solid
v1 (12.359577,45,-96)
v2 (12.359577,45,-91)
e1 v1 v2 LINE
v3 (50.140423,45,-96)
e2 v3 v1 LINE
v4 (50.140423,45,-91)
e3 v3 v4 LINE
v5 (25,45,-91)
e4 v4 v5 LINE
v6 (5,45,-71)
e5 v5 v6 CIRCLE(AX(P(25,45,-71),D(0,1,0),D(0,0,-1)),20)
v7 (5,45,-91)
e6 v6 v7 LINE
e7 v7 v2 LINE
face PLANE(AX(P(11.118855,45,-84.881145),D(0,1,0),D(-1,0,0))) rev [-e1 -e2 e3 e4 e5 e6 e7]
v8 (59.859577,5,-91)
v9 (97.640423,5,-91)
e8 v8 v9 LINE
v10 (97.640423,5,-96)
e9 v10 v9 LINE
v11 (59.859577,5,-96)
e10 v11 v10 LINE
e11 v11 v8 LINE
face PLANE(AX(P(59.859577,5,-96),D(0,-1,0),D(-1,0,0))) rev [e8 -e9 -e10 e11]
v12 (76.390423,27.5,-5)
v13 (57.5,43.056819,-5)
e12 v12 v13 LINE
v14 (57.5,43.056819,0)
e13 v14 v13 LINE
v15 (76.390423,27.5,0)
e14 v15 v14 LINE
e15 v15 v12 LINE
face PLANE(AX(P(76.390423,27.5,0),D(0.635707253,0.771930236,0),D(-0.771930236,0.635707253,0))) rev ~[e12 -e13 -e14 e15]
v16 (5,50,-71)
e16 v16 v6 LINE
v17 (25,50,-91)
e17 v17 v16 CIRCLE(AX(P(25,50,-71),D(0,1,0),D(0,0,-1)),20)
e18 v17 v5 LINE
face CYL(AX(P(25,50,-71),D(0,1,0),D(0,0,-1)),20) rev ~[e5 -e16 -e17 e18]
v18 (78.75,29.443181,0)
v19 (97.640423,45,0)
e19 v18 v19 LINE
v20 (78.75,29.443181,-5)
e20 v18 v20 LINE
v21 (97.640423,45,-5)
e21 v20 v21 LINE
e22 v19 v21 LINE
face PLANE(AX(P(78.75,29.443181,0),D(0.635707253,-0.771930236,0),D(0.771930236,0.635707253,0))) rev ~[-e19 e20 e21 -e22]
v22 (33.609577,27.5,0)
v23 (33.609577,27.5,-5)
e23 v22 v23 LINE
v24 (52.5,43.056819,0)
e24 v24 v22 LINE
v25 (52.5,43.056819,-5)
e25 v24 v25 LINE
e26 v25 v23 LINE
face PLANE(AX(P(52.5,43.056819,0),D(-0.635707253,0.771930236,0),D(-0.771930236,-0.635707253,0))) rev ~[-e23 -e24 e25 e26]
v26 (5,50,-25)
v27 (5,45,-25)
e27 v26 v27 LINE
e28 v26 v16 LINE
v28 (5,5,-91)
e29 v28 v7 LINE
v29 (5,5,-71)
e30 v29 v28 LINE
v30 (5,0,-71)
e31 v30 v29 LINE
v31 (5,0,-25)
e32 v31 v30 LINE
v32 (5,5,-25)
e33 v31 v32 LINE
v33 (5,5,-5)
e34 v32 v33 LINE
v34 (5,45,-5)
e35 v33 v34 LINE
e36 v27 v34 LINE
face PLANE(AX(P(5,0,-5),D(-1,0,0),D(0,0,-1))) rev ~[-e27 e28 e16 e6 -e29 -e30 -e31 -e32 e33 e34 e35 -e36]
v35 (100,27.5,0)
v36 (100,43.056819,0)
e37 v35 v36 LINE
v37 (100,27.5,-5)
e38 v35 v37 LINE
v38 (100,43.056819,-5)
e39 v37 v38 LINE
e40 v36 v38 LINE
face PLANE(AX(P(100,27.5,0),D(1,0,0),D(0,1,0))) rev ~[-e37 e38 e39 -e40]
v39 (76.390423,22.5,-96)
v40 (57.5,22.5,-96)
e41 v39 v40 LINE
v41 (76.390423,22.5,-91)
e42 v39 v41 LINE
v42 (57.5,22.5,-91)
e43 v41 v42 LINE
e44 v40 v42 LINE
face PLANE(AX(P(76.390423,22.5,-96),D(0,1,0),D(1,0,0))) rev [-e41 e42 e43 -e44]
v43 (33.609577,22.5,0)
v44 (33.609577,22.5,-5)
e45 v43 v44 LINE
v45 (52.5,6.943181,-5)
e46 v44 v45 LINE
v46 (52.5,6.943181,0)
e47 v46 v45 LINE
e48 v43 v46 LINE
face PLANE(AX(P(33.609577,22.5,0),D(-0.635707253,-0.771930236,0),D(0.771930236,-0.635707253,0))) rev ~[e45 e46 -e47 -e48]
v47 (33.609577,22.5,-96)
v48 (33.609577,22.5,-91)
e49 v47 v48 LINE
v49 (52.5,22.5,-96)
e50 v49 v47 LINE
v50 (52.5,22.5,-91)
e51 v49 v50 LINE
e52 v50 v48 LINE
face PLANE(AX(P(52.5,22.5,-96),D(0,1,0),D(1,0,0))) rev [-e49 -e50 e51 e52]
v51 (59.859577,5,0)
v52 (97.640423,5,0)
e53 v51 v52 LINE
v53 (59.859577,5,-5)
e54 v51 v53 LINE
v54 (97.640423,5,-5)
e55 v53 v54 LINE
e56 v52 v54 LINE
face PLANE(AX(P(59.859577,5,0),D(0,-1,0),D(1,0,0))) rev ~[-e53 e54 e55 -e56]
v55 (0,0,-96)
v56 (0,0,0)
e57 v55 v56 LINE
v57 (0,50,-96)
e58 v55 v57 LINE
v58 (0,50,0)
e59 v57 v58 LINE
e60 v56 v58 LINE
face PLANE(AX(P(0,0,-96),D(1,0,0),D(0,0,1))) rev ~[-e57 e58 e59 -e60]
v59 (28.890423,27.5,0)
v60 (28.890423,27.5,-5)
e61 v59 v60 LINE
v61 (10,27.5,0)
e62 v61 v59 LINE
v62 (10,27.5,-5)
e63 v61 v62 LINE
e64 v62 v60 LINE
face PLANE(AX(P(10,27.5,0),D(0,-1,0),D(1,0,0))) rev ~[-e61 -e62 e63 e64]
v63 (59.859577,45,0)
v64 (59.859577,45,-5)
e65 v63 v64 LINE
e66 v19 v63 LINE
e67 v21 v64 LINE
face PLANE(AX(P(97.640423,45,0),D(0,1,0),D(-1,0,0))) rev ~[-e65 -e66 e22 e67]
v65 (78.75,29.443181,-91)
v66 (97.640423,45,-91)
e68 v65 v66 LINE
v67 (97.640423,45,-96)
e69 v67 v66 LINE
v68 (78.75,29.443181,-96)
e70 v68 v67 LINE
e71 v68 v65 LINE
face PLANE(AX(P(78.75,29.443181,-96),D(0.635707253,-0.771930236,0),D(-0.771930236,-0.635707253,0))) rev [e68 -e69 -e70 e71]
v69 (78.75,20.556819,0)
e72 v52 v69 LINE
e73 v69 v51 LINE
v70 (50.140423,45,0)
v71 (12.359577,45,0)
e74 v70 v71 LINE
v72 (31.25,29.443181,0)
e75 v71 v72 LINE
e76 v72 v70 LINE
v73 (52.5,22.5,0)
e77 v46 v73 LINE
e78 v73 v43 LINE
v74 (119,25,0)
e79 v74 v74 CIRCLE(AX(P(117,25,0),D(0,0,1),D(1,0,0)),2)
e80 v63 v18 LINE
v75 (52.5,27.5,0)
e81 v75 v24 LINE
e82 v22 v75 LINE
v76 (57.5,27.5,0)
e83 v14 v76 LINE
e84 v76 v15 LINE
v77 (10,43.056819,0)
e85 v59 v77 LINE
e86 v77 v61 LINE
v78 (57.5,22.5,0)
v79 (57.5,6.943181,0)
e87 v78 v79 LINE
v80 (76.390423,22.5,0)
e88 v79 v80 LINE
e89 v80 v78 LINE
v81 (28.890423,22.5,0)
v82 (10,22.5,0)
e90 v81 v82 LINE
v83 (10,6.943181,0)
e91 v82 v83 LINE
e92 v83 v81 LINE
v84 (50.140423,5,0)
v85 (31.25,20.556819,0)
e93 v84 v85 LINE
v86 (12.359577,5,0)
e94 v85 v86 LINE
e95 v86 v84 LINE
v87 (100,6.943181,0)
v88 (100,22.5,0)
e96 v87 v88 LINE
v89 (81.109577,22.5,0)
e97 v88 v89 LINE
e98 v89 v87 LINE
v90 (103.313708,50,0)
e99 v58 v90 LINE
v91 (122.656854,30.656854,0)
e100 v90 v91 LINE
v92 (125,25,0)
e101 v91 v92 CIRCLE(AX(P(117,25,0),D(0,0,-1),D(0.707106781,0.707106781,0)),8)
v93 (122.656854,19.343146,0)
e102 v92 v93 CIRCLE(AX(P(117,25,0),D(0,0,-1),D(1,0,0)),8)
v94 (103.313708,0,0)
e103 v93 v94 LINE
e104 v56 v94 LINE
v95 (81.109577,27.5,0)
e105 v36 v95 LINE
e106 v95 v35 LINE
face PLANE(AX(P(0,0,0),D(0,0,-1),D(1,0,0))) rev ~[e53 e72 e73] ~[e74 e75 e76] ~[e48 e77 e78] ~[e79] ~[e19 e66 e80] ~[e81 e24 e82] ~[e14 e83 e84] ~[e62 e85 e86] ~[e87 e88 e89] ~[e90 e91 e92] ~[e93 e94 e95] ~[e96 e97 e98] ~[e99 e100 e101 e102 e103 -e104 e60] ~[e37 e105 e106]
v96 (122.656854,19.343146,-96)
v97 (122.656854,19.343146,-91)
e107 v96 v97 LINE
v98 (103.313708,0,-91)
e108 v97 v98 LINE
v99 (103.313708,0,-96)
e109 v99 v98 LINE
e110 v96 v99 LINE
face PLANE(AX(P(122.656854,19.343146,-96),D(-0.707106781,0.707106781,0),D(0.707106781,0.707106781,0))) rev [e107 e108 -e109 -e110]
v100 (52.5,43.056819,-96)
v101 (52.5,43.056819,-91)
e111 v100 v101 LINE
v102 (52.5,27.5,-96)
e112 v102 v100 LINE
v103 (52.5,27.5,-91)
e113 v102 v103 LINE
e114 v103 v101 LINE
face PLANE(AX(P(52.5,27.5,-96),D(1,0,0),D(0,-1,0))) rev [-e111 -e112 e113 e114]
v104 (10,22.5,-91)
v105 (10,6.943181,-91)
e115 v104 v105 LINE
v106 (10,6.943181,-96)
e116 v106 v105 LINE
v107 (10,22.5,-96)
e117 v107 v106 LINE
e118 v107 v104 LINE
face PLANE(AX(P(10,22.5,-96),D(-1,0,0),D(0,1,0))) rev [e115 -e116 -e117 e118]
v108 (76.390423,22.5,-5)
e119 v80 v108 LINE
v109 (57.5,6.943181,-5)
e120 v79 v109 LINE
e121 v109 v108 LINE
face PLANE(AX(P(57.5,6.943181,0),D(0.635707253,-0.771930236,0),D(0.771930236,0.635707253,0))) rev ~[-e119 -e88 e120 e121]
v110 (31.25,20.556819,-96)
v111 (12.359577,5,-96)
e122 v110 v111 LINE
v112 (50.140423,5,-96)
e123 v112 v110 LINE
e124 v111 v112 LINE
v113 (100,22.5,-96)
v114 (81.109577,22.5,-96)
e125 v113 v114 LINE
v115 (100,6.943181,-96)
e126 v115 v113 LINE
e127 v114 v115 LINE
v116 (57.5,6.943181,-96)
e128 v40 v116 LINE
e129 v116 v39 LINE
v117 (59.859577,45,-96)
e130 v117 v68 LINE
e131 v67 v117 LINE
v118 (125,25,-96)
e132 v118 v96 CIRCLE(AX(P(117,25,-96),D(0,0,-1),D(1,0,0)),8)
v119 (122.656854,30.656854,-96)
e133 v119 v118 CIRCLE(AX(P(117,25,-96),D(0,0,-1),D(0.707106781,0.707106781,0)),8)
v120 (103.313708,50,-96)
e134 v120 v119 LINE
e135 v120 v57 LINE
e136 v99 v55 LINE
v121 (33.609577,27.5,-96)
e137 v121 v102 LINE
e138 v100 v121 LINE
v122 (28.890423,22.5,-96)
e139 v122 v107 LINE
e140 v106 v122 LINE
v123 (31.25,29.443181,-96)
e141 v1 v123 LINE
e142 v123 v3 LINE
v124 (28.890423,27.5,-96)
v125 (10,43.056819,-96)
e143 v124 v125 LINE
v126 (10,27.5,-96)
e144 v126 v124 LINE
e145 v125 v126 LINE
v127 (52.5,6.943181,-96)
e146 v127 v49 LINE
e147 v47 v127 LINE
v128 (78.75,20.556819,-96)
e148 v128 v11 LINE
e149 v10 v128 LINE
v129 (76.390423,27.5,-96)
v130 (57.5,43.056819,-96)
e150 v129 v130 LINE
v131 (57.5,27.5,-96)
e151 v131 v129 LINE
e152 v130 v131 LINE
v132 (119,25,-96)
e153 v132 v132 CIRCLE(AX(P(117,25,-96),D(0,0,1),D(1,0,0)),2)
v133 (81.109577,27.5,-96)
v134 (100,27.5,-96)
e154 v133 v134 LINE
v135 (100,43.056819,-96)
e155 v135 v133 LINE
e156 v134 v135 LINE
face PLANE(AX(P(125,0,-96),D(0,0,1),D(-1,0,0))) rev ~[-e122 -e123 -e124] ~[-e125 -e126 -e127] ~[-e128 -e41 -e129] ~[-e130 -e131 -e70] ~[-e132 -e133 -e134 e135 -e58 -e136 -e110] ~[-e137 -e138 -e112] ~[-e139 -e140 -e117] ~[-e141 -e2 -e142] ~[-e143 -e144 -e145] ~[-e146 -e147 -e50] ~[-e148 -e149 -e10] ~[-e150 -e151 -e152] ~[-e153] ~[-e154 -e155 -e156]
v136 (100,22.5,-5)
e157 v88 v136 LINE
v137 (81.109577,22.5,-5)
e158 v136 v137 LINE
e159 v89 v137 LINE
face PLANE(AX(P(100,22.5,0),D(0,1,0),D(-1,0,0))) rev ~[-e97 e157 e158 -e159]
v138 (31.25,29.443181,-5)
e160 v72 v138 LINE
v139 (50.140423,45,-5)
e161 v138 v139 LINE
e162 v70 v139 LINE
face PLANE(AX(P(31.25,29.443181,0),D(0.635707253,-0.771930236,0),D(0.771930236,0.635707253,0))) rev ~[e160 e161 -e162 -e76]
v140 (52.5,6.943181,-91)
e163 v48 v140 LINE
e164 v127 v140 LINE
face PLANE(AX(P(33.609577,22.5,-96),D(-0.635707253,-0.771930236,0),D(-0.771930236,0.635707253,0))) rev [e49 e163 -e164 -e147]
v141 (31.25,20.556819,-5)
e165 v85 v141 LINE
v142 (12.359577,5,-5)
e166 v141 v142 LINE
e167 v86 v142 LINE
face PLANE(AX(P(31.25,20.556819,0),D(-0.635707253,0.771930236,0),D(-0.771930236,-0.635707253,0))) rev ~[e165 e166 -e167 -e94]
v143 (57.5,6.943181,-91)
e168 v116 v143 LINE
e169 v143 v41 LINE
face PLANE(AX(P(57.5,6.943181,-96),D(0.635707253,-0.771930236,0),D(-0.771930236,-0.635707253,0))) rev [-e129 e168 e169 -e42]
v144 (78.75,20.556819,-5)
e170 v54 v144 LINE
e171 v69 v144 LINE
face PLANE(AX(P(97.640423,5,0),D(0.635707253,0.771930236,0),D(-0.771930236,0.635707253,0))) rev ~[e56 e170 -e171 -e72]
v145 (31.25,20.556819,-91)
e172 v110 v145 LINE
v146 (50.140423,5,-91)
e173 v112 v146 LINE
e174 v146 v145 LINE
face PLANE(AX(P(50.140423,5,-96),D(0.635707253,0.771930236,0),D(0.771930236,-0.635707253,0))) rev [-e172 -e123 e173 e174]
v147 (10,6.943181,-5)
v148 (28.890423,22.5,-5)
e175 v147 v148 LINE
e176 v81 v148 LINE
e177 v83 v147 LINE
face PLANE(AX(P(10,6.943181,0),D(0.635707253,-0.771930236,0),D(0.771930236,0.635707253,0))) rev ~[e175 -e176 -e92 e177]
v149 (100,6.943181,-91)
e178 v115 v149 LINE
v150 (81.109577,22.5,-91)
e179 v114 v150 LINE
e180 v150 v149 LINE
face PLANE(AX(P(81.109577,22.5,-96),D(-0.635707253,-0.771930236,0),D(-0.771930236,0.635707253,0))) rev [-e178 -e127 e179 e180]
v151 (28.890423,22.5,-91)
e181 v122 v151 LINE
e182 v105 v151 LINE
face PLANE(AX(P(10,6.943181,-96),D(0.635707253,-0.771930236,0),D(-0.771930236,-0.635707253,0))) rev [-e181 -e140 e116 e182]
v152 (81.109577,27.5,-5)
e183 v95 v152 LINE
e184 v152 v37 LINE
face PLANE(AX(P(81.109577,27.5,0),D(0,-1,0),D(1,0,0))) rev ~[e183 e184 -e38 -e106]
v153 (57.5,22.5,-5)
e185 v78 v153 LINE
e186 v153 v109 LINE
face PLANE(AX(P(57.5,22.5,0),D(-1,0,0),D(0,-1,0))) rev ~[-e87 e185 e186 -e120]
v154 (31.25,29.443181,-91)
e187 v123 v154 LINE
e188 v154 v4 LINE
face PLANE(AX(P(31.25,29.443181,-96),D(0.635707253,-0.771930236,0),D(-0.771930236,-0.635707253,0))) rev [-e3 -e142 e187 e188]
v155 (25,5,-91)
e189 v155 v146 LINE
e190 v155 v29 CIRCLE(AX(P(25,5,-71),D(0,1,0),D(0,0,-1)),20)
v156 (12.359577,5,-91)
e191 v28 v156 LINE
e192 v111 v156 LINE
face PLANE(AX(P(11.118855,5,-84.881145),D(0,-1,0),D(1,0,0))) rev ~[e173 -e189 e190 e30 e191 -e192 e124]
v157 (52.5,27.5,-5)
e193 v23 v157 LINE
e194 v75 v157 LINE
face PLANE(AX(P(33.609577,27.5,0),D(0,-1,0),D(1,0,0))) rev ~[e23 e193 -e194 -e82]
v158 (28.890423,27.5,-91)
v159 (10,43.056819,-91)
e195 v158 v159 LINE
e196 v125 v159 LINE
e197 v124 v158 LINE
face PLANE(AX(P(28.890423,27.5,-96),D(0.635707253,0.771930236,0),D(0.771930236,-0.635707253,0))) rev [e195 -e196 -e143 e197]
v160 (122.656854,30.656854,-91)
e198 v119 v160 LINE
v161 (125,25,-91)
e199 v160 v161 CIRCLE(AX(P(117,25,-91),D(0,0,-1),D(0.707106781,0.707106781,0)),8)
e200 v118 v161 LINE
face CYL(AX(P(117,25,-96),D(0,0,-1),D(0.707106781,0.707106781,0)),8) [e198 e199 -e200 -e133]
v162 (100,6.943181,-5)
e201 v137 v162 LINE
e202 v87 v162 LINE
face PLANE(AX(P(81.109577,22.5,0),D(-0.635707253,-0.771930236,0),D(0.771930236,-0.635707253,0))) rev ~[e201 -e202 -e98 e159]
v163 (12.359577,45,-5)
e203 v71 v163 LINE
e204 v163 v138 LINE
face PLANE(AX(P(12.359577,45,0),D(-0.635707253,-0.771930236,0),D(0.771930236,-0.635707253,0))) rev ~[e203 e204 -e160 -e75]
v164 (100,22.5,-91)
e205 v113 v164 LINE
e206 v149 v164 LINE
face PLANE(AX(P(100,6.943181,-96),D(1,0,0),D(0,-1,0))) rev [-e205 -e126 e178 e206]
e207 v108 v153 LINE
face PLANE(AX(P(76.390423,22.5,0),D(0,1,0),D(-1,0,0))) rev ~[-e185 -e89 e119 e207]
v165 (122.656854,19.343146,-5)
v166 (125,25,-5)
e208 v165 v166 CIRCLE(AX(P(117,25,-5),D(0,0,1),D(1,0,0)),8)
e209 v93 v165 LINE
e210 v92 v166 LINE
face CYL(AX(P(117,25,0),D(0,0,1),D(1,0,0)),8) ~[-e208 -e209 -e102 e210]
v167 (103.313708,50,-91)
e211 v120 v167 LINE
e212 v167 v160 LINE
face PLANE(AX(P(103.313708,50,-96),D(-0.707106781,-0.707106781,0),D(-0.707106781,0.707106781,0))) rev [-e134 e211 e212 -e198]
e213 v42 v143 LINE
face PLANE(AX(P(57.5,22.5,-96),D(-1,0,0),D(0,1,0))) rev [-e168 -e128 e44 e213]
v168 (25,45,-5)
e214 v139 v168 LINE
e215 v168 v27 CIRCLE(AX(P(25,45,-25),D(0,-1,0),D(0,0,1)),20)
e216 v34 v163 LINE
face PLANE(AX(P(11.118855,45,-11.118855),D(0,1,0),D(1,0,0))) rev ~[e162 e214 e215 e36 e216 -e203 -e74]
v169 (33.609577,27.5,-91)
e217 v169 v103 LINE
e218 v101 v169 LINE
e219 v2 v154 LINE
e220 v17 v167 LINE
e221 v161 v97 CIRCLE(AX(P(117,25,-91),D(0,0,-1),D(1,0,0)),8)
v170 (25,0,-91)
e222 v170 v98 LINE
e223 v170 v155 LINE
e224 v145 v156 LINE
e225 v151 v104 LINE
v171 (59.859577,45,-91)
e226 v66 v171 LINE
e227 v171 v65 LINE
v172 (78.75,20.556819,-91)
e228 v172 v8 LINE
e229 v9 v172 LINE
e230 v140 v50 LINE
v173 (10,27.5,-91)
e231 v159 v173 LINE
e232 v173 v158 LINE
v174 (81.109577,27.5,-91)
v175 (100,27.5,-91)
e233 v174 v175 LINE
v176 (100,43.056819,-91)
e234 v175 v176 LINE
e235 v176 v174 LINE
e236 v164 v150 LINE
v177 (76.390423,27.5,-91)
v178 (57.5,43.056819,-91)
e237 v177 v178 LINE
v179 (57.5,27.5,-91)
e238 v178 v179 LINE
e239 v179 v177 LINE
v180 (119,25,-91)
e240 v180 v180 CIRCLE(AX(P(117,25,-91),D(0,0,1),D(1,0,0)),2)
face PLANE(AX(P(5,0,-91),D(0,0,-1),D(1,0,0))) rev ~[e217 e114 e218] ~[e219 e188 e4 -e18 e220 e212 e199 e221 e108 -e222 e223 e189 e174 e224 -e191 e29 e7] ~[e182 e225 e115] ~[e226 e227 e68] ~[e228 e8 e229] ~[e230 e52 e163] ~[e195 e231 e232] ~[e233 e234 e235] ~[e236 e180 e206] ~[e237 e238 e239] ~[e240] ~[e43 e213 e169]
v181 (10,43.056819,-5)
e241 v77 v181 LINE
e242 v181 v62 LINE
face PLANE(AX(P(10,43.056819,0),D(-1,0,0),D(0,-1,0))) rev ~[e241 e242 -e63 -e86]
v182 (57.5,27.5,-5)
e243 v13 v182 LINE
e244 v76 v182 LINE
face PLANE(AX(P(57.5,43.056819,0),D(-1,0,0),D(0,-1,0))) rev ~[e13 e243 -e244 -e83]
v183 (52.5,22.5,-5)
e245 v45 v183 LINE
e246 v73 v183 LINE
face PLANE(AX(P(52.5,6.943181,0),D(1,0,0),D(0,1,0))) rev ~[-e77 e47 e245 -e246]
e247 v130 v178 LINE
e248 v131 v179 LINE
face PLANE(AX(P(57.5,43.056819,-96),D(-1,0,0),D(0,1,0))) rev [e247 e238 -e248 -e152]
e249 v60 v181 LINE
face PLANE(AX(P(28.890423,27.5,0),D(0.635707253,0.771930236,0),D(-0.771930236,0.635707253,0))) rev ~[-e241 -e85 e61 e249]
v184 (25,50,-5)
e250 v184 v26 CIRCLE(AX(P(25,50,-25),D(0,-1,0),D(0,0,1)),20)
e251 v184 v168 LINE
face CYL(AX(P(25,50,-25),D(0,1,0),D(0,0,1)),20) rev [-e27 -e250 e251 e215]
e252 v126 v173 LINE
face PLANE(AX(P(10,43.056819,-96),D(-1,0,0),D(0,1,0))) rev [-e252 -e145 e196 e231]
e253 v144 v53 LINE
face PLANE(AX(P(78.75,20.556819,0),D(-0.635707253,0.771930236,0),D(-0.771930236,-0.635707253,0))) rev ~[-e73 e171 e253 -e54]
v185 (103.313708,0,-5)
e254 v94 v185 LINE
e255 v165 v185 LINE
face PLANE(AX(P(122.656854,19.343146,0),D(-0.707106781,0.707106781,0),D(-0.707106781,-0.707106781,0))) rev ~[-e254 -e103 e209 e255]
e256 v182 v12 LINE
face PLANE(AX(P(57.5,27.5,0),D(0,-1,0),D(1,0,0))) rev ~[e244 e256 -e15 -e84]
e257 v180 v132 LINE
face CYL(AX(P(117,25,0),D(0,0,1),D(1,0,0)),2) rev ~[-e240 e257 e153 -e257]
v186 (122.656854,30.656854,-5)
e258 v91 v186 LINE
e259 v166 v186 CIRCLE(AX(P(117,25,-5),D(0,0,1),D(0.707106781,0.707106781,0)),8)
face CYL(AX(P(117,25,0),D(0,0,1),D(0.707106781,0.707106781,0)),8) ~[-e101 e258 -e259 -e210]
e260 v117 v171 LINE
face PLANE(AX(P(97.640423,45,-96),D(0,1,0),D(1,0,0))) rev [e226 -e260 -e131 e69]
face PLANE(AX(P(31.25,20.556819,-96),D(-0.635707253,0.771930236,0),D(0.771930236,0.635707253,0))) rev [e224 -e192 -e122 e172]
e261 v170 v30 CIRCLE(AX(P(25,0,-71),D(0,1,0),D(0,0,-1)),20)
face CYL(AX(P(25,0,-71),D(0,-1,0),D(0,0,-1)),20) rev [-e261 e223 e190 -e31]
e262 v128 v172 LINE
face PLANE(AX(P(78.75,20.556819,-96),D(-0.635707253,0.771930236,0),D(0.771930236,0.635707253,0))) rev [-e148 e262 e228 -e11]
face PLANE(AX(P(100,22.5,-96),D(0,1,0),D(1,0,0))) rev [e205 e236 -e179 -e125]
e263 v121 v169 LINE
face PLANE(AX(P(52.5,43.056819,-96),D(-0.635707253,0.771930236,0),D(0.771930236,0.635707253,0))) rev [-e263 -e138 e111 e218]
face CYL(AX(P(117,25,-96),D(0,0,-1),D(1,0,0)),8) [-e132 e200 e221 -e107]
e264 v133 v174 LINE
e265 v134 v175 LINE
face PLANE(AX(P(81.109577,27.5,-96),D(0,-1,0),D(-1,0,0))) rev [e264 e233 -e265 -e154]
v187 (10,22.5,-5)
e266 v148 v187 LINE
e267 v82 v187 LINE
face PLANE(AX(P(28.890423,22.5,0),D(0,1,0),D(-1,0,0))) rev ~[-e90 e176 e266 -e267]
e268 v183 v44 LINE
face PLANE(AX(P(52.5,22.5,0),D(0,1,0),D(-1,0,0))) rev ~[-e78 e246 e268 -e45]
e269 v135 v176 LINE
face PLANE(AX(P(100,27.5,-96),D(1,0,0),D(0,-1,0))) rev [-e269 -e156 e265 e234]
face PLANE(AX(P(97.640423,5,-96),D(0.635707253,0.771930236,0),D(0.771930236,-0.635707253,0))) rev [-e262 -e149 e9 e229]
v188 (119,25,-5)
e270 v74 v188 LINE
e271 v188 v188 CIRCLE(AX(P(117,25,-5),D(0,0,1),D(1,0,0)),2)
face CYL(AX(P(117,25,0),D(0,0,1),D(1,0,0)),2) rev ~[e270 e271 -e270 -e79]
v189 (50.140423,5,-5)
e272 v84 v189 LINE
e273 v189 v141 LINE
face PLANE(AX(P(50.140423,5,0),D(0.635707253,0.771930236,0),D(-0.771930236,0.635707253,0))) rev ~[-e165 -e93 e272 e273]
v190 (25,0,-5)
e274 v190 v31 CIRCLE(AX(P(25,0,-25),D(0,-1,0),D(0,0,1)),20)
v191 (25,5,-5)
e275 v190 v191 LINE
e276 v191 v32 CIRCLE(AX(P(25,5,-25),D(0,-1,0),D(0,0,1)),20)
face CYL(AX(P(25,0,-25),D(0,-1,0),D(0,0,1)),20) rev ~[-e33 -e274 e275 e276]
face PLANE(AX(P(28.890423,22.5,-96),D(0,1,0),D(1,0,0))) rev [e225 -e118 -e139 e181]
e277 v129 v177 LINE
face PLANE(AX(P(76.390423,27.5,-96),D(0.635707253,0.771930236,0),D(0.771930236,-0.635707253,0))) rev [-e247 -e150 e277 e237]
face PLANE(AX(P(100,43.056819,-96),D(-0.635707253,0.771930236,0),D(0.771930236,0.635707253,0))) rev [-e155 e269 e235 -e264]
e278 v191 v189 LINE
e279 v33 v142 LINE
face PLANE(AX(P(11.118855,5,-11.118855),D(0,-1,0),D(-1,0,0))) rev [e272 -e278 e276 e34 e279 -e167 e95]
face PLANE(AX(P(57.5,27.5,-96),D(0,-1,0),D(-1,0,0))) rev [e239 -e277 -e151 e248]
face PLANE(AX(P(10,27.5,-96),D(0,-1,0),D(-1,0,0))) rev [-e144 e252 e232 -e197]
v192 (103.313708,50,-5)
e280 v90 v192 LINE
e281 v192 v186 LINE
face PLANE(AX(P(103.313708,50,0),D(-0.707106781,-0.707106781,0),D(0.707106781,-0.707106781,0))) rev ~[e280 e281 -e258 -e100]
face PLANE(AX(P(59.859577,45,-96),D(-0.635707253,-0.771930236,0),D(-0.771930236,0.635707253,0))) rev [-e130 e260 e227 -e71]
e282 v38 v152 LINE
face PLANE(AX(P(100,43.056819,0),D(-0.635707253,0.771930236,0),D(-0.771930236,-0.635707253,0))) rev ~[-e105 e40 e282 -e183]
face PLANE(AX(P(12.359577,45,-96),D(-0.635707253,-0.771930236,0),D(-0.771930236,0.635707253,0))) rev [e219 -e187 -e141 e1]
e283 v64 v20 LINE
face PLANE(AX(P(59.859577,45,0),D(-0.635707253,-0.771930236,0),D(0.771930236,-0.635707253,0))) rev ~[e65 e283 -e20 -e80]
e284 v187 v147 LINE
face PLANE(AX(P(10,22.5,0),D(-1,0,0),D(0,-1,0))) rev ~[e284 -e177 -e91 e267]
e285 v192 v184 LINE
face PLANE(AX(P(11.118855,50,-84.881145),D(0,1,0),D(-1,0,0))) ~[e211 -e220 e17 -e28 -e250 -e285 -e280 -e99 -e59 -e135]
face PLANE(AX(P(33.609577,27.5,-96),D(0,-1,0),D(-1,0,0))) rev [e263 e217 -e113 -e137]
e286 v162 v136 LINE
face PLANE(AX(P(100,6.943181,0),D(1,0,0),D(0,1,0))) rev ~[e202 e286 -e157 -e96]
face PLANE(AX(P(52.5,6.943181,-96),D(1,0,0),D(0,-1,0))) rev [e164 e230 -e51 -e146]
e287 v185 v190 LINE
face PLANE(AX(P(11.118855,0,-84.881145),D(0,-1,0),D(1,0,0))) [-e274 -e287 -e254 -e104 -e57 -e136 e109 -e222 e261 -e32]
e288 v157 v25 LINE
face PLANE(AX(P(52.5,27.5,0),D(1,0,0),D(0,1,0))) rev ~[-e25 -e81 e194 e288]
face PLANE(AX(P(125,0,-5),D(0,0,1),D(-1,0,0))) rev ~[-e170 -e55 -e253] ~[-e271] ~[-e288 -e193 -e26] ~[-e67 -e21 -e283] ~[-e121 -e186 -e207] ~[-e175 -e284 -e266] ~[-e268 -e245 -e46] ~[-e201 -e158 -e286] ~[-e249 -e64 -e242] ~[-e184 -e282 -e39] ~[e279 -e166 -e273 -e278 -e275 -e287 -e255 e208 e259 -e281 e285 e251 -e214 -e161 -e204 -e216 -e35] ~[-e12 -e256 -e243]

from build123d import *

# Parameters (mm, degrees)
BOSS_EXTRUDE1_DEPTH  = 50
SKETCH2_R            = 2
CUT_EXTRUDE1_DEPTH   = 166.351141514
CUT_EXTRUDE2_DEPTH   = 10
BOSS_EXTRUDE3_DEPTH  = 5
MIRROR5_COPY_1_DEPTH = 5


with BuildPart() as part:
    # Sketch1 → Boss-Extrude1 (new body)
    with BuildSketch(Plane(origin=(0, 0, 0), x_dir=(1, 0, 0), z_dir=(0, 1, 0))):
        Polygon((0, 0), (125, 0), (125, 5), (5, 5), (5, 91), (125, 91), (125, 96), (0, 96), align=None)
    extrude(amount=BOSS_EXTRUDE1_DEPTH)

    # Sketch2 → Cut-Extrude1 (cut, through all)
    with BuildSketch(Plane.XY):
        with Locations((117, 25)):
            Circle(SKETCH2_R)
    extrude(amount=-CUT_EXTRUDE1_DEPTH, mode=Mode.SUBTRACT)

    # Sketch3 → Cut-Extrude2 (cut)
    with BuildSketch(Plane.XY):
        Polygon((52.5, 43.056819217), (33.609576666, 27.5), (52.5, 27.5), align=None)
        Polygon((50.140423334, 45), (12.359576666, 45), (31.25, 29.443180783), align=None)
        Polygon((28.890423334, 27.5), (10, 43.056819217), (10, 27.5), align=None)
        Polygon((10, 6.943180783), (28.890423334, 22.5), (10, 22.5), align=None)
        Polygon((12.359576666, 5), (50.140423334, 5), (31.25, 20.556819217), align=None)
        Polygon((52.5, 6.943180783), (52.5, 22.5), (33.609576666, 22.5), align=None)
        Polygon((57.5, 6.943180783), (76.390423334, 22.5), (57.5, 22.5), align=None)
        Polygon((59.859576666, 5), (97.640423334, 5), (78.75, 20.556819217), align=None)
        Polygon((81.109576666, 22.5), (100, 6.943180783), (100, 22.5), align=None)
        Polygon((100, 43.056819217), (81.109576666, 27.5), (100, 27.5), align=None)
        Polygon((97.640423334, 45), (59.859576666, 45), (78.75, 29.443180783), align=None)
        Polygon((76.390423334, 27.5), (57.5, 43.056819217), (57.5, 27.5), align=None)
        with BuildLine():
            Line((103.313708499, 50), (122.656854249, 30.656854249))
            ThreePointArc((122.656854249, 30.656854249), (124.39103626, 28.061467459), (125, 25))
            Line((125, 25), (125, 50))
            Line((125, 50), (103.313708499, 50))
        make_face()
        with BuildLine():
            Line((125, 0), (125, 25))
            ThreePointArc((125, 25), (124.39103626, 21.938532541), (122.656854249, 19.343145751))
            Line((122.656854249, 19.343145751), (103.313708499, 0))
            Line((103.313708499, 0), (125, 0))
        make_face()
    cut_extrude2 = extrude(amount=-CUT_EXTRUDE2_DEPTH, mode=Mode.SUBTRACT)

    # Mirror3: Cut-Extrude2 across plane
    add(cut_extrude2.mirror(Plane.XY.offset(-48)), mode=Mode.SUBTRACT)

    # Sketch6 → Boss-Extrude3 (add)
    with BuildSketch(Plane(origin=(0, 50, 0), x_dir=(1, 0, 0), z_dir=(0, 1, 0))):
        with BuildLine():
            Line((5, 5), (25, 5))
            ThreePointArc((25, 5), (10.857864376, 10.857864376), (5, 25))
            Line((5, 25), (5, 5))
        make_face()
    boss_extrude3 = extrude(amount=-BOSS_EXTRUDE3_DEPTH)

    # Mirror4: Boss-Extrude3 across plane
    add(boss_extrude3.mirror(Plane.ZX.offset(25)))

    # Mirror5: Boss-Extrude3 across plane
    add(boss_extrude3.mirror(Plane.XY.offset(-48)))

    # Mirror5 copy 1 sketch → Mirror5 copy 1 (add)
    with BuildSketch(Plane(origin=(0, 0, -96), x_dir=(1, 0, 0), z_dir=(0, -1, 0))):
        with BuildLine():
            Line((5, 5), (25, 5))
            ThreePointArc((25, 5), (10.857864376, 10.857864376), (5, 25))
            Line((5, 25), (5, 5))
        make_face()
    extrude(amount=-MIRROR5_COPY_1_DEPTH)


solid = part.part
